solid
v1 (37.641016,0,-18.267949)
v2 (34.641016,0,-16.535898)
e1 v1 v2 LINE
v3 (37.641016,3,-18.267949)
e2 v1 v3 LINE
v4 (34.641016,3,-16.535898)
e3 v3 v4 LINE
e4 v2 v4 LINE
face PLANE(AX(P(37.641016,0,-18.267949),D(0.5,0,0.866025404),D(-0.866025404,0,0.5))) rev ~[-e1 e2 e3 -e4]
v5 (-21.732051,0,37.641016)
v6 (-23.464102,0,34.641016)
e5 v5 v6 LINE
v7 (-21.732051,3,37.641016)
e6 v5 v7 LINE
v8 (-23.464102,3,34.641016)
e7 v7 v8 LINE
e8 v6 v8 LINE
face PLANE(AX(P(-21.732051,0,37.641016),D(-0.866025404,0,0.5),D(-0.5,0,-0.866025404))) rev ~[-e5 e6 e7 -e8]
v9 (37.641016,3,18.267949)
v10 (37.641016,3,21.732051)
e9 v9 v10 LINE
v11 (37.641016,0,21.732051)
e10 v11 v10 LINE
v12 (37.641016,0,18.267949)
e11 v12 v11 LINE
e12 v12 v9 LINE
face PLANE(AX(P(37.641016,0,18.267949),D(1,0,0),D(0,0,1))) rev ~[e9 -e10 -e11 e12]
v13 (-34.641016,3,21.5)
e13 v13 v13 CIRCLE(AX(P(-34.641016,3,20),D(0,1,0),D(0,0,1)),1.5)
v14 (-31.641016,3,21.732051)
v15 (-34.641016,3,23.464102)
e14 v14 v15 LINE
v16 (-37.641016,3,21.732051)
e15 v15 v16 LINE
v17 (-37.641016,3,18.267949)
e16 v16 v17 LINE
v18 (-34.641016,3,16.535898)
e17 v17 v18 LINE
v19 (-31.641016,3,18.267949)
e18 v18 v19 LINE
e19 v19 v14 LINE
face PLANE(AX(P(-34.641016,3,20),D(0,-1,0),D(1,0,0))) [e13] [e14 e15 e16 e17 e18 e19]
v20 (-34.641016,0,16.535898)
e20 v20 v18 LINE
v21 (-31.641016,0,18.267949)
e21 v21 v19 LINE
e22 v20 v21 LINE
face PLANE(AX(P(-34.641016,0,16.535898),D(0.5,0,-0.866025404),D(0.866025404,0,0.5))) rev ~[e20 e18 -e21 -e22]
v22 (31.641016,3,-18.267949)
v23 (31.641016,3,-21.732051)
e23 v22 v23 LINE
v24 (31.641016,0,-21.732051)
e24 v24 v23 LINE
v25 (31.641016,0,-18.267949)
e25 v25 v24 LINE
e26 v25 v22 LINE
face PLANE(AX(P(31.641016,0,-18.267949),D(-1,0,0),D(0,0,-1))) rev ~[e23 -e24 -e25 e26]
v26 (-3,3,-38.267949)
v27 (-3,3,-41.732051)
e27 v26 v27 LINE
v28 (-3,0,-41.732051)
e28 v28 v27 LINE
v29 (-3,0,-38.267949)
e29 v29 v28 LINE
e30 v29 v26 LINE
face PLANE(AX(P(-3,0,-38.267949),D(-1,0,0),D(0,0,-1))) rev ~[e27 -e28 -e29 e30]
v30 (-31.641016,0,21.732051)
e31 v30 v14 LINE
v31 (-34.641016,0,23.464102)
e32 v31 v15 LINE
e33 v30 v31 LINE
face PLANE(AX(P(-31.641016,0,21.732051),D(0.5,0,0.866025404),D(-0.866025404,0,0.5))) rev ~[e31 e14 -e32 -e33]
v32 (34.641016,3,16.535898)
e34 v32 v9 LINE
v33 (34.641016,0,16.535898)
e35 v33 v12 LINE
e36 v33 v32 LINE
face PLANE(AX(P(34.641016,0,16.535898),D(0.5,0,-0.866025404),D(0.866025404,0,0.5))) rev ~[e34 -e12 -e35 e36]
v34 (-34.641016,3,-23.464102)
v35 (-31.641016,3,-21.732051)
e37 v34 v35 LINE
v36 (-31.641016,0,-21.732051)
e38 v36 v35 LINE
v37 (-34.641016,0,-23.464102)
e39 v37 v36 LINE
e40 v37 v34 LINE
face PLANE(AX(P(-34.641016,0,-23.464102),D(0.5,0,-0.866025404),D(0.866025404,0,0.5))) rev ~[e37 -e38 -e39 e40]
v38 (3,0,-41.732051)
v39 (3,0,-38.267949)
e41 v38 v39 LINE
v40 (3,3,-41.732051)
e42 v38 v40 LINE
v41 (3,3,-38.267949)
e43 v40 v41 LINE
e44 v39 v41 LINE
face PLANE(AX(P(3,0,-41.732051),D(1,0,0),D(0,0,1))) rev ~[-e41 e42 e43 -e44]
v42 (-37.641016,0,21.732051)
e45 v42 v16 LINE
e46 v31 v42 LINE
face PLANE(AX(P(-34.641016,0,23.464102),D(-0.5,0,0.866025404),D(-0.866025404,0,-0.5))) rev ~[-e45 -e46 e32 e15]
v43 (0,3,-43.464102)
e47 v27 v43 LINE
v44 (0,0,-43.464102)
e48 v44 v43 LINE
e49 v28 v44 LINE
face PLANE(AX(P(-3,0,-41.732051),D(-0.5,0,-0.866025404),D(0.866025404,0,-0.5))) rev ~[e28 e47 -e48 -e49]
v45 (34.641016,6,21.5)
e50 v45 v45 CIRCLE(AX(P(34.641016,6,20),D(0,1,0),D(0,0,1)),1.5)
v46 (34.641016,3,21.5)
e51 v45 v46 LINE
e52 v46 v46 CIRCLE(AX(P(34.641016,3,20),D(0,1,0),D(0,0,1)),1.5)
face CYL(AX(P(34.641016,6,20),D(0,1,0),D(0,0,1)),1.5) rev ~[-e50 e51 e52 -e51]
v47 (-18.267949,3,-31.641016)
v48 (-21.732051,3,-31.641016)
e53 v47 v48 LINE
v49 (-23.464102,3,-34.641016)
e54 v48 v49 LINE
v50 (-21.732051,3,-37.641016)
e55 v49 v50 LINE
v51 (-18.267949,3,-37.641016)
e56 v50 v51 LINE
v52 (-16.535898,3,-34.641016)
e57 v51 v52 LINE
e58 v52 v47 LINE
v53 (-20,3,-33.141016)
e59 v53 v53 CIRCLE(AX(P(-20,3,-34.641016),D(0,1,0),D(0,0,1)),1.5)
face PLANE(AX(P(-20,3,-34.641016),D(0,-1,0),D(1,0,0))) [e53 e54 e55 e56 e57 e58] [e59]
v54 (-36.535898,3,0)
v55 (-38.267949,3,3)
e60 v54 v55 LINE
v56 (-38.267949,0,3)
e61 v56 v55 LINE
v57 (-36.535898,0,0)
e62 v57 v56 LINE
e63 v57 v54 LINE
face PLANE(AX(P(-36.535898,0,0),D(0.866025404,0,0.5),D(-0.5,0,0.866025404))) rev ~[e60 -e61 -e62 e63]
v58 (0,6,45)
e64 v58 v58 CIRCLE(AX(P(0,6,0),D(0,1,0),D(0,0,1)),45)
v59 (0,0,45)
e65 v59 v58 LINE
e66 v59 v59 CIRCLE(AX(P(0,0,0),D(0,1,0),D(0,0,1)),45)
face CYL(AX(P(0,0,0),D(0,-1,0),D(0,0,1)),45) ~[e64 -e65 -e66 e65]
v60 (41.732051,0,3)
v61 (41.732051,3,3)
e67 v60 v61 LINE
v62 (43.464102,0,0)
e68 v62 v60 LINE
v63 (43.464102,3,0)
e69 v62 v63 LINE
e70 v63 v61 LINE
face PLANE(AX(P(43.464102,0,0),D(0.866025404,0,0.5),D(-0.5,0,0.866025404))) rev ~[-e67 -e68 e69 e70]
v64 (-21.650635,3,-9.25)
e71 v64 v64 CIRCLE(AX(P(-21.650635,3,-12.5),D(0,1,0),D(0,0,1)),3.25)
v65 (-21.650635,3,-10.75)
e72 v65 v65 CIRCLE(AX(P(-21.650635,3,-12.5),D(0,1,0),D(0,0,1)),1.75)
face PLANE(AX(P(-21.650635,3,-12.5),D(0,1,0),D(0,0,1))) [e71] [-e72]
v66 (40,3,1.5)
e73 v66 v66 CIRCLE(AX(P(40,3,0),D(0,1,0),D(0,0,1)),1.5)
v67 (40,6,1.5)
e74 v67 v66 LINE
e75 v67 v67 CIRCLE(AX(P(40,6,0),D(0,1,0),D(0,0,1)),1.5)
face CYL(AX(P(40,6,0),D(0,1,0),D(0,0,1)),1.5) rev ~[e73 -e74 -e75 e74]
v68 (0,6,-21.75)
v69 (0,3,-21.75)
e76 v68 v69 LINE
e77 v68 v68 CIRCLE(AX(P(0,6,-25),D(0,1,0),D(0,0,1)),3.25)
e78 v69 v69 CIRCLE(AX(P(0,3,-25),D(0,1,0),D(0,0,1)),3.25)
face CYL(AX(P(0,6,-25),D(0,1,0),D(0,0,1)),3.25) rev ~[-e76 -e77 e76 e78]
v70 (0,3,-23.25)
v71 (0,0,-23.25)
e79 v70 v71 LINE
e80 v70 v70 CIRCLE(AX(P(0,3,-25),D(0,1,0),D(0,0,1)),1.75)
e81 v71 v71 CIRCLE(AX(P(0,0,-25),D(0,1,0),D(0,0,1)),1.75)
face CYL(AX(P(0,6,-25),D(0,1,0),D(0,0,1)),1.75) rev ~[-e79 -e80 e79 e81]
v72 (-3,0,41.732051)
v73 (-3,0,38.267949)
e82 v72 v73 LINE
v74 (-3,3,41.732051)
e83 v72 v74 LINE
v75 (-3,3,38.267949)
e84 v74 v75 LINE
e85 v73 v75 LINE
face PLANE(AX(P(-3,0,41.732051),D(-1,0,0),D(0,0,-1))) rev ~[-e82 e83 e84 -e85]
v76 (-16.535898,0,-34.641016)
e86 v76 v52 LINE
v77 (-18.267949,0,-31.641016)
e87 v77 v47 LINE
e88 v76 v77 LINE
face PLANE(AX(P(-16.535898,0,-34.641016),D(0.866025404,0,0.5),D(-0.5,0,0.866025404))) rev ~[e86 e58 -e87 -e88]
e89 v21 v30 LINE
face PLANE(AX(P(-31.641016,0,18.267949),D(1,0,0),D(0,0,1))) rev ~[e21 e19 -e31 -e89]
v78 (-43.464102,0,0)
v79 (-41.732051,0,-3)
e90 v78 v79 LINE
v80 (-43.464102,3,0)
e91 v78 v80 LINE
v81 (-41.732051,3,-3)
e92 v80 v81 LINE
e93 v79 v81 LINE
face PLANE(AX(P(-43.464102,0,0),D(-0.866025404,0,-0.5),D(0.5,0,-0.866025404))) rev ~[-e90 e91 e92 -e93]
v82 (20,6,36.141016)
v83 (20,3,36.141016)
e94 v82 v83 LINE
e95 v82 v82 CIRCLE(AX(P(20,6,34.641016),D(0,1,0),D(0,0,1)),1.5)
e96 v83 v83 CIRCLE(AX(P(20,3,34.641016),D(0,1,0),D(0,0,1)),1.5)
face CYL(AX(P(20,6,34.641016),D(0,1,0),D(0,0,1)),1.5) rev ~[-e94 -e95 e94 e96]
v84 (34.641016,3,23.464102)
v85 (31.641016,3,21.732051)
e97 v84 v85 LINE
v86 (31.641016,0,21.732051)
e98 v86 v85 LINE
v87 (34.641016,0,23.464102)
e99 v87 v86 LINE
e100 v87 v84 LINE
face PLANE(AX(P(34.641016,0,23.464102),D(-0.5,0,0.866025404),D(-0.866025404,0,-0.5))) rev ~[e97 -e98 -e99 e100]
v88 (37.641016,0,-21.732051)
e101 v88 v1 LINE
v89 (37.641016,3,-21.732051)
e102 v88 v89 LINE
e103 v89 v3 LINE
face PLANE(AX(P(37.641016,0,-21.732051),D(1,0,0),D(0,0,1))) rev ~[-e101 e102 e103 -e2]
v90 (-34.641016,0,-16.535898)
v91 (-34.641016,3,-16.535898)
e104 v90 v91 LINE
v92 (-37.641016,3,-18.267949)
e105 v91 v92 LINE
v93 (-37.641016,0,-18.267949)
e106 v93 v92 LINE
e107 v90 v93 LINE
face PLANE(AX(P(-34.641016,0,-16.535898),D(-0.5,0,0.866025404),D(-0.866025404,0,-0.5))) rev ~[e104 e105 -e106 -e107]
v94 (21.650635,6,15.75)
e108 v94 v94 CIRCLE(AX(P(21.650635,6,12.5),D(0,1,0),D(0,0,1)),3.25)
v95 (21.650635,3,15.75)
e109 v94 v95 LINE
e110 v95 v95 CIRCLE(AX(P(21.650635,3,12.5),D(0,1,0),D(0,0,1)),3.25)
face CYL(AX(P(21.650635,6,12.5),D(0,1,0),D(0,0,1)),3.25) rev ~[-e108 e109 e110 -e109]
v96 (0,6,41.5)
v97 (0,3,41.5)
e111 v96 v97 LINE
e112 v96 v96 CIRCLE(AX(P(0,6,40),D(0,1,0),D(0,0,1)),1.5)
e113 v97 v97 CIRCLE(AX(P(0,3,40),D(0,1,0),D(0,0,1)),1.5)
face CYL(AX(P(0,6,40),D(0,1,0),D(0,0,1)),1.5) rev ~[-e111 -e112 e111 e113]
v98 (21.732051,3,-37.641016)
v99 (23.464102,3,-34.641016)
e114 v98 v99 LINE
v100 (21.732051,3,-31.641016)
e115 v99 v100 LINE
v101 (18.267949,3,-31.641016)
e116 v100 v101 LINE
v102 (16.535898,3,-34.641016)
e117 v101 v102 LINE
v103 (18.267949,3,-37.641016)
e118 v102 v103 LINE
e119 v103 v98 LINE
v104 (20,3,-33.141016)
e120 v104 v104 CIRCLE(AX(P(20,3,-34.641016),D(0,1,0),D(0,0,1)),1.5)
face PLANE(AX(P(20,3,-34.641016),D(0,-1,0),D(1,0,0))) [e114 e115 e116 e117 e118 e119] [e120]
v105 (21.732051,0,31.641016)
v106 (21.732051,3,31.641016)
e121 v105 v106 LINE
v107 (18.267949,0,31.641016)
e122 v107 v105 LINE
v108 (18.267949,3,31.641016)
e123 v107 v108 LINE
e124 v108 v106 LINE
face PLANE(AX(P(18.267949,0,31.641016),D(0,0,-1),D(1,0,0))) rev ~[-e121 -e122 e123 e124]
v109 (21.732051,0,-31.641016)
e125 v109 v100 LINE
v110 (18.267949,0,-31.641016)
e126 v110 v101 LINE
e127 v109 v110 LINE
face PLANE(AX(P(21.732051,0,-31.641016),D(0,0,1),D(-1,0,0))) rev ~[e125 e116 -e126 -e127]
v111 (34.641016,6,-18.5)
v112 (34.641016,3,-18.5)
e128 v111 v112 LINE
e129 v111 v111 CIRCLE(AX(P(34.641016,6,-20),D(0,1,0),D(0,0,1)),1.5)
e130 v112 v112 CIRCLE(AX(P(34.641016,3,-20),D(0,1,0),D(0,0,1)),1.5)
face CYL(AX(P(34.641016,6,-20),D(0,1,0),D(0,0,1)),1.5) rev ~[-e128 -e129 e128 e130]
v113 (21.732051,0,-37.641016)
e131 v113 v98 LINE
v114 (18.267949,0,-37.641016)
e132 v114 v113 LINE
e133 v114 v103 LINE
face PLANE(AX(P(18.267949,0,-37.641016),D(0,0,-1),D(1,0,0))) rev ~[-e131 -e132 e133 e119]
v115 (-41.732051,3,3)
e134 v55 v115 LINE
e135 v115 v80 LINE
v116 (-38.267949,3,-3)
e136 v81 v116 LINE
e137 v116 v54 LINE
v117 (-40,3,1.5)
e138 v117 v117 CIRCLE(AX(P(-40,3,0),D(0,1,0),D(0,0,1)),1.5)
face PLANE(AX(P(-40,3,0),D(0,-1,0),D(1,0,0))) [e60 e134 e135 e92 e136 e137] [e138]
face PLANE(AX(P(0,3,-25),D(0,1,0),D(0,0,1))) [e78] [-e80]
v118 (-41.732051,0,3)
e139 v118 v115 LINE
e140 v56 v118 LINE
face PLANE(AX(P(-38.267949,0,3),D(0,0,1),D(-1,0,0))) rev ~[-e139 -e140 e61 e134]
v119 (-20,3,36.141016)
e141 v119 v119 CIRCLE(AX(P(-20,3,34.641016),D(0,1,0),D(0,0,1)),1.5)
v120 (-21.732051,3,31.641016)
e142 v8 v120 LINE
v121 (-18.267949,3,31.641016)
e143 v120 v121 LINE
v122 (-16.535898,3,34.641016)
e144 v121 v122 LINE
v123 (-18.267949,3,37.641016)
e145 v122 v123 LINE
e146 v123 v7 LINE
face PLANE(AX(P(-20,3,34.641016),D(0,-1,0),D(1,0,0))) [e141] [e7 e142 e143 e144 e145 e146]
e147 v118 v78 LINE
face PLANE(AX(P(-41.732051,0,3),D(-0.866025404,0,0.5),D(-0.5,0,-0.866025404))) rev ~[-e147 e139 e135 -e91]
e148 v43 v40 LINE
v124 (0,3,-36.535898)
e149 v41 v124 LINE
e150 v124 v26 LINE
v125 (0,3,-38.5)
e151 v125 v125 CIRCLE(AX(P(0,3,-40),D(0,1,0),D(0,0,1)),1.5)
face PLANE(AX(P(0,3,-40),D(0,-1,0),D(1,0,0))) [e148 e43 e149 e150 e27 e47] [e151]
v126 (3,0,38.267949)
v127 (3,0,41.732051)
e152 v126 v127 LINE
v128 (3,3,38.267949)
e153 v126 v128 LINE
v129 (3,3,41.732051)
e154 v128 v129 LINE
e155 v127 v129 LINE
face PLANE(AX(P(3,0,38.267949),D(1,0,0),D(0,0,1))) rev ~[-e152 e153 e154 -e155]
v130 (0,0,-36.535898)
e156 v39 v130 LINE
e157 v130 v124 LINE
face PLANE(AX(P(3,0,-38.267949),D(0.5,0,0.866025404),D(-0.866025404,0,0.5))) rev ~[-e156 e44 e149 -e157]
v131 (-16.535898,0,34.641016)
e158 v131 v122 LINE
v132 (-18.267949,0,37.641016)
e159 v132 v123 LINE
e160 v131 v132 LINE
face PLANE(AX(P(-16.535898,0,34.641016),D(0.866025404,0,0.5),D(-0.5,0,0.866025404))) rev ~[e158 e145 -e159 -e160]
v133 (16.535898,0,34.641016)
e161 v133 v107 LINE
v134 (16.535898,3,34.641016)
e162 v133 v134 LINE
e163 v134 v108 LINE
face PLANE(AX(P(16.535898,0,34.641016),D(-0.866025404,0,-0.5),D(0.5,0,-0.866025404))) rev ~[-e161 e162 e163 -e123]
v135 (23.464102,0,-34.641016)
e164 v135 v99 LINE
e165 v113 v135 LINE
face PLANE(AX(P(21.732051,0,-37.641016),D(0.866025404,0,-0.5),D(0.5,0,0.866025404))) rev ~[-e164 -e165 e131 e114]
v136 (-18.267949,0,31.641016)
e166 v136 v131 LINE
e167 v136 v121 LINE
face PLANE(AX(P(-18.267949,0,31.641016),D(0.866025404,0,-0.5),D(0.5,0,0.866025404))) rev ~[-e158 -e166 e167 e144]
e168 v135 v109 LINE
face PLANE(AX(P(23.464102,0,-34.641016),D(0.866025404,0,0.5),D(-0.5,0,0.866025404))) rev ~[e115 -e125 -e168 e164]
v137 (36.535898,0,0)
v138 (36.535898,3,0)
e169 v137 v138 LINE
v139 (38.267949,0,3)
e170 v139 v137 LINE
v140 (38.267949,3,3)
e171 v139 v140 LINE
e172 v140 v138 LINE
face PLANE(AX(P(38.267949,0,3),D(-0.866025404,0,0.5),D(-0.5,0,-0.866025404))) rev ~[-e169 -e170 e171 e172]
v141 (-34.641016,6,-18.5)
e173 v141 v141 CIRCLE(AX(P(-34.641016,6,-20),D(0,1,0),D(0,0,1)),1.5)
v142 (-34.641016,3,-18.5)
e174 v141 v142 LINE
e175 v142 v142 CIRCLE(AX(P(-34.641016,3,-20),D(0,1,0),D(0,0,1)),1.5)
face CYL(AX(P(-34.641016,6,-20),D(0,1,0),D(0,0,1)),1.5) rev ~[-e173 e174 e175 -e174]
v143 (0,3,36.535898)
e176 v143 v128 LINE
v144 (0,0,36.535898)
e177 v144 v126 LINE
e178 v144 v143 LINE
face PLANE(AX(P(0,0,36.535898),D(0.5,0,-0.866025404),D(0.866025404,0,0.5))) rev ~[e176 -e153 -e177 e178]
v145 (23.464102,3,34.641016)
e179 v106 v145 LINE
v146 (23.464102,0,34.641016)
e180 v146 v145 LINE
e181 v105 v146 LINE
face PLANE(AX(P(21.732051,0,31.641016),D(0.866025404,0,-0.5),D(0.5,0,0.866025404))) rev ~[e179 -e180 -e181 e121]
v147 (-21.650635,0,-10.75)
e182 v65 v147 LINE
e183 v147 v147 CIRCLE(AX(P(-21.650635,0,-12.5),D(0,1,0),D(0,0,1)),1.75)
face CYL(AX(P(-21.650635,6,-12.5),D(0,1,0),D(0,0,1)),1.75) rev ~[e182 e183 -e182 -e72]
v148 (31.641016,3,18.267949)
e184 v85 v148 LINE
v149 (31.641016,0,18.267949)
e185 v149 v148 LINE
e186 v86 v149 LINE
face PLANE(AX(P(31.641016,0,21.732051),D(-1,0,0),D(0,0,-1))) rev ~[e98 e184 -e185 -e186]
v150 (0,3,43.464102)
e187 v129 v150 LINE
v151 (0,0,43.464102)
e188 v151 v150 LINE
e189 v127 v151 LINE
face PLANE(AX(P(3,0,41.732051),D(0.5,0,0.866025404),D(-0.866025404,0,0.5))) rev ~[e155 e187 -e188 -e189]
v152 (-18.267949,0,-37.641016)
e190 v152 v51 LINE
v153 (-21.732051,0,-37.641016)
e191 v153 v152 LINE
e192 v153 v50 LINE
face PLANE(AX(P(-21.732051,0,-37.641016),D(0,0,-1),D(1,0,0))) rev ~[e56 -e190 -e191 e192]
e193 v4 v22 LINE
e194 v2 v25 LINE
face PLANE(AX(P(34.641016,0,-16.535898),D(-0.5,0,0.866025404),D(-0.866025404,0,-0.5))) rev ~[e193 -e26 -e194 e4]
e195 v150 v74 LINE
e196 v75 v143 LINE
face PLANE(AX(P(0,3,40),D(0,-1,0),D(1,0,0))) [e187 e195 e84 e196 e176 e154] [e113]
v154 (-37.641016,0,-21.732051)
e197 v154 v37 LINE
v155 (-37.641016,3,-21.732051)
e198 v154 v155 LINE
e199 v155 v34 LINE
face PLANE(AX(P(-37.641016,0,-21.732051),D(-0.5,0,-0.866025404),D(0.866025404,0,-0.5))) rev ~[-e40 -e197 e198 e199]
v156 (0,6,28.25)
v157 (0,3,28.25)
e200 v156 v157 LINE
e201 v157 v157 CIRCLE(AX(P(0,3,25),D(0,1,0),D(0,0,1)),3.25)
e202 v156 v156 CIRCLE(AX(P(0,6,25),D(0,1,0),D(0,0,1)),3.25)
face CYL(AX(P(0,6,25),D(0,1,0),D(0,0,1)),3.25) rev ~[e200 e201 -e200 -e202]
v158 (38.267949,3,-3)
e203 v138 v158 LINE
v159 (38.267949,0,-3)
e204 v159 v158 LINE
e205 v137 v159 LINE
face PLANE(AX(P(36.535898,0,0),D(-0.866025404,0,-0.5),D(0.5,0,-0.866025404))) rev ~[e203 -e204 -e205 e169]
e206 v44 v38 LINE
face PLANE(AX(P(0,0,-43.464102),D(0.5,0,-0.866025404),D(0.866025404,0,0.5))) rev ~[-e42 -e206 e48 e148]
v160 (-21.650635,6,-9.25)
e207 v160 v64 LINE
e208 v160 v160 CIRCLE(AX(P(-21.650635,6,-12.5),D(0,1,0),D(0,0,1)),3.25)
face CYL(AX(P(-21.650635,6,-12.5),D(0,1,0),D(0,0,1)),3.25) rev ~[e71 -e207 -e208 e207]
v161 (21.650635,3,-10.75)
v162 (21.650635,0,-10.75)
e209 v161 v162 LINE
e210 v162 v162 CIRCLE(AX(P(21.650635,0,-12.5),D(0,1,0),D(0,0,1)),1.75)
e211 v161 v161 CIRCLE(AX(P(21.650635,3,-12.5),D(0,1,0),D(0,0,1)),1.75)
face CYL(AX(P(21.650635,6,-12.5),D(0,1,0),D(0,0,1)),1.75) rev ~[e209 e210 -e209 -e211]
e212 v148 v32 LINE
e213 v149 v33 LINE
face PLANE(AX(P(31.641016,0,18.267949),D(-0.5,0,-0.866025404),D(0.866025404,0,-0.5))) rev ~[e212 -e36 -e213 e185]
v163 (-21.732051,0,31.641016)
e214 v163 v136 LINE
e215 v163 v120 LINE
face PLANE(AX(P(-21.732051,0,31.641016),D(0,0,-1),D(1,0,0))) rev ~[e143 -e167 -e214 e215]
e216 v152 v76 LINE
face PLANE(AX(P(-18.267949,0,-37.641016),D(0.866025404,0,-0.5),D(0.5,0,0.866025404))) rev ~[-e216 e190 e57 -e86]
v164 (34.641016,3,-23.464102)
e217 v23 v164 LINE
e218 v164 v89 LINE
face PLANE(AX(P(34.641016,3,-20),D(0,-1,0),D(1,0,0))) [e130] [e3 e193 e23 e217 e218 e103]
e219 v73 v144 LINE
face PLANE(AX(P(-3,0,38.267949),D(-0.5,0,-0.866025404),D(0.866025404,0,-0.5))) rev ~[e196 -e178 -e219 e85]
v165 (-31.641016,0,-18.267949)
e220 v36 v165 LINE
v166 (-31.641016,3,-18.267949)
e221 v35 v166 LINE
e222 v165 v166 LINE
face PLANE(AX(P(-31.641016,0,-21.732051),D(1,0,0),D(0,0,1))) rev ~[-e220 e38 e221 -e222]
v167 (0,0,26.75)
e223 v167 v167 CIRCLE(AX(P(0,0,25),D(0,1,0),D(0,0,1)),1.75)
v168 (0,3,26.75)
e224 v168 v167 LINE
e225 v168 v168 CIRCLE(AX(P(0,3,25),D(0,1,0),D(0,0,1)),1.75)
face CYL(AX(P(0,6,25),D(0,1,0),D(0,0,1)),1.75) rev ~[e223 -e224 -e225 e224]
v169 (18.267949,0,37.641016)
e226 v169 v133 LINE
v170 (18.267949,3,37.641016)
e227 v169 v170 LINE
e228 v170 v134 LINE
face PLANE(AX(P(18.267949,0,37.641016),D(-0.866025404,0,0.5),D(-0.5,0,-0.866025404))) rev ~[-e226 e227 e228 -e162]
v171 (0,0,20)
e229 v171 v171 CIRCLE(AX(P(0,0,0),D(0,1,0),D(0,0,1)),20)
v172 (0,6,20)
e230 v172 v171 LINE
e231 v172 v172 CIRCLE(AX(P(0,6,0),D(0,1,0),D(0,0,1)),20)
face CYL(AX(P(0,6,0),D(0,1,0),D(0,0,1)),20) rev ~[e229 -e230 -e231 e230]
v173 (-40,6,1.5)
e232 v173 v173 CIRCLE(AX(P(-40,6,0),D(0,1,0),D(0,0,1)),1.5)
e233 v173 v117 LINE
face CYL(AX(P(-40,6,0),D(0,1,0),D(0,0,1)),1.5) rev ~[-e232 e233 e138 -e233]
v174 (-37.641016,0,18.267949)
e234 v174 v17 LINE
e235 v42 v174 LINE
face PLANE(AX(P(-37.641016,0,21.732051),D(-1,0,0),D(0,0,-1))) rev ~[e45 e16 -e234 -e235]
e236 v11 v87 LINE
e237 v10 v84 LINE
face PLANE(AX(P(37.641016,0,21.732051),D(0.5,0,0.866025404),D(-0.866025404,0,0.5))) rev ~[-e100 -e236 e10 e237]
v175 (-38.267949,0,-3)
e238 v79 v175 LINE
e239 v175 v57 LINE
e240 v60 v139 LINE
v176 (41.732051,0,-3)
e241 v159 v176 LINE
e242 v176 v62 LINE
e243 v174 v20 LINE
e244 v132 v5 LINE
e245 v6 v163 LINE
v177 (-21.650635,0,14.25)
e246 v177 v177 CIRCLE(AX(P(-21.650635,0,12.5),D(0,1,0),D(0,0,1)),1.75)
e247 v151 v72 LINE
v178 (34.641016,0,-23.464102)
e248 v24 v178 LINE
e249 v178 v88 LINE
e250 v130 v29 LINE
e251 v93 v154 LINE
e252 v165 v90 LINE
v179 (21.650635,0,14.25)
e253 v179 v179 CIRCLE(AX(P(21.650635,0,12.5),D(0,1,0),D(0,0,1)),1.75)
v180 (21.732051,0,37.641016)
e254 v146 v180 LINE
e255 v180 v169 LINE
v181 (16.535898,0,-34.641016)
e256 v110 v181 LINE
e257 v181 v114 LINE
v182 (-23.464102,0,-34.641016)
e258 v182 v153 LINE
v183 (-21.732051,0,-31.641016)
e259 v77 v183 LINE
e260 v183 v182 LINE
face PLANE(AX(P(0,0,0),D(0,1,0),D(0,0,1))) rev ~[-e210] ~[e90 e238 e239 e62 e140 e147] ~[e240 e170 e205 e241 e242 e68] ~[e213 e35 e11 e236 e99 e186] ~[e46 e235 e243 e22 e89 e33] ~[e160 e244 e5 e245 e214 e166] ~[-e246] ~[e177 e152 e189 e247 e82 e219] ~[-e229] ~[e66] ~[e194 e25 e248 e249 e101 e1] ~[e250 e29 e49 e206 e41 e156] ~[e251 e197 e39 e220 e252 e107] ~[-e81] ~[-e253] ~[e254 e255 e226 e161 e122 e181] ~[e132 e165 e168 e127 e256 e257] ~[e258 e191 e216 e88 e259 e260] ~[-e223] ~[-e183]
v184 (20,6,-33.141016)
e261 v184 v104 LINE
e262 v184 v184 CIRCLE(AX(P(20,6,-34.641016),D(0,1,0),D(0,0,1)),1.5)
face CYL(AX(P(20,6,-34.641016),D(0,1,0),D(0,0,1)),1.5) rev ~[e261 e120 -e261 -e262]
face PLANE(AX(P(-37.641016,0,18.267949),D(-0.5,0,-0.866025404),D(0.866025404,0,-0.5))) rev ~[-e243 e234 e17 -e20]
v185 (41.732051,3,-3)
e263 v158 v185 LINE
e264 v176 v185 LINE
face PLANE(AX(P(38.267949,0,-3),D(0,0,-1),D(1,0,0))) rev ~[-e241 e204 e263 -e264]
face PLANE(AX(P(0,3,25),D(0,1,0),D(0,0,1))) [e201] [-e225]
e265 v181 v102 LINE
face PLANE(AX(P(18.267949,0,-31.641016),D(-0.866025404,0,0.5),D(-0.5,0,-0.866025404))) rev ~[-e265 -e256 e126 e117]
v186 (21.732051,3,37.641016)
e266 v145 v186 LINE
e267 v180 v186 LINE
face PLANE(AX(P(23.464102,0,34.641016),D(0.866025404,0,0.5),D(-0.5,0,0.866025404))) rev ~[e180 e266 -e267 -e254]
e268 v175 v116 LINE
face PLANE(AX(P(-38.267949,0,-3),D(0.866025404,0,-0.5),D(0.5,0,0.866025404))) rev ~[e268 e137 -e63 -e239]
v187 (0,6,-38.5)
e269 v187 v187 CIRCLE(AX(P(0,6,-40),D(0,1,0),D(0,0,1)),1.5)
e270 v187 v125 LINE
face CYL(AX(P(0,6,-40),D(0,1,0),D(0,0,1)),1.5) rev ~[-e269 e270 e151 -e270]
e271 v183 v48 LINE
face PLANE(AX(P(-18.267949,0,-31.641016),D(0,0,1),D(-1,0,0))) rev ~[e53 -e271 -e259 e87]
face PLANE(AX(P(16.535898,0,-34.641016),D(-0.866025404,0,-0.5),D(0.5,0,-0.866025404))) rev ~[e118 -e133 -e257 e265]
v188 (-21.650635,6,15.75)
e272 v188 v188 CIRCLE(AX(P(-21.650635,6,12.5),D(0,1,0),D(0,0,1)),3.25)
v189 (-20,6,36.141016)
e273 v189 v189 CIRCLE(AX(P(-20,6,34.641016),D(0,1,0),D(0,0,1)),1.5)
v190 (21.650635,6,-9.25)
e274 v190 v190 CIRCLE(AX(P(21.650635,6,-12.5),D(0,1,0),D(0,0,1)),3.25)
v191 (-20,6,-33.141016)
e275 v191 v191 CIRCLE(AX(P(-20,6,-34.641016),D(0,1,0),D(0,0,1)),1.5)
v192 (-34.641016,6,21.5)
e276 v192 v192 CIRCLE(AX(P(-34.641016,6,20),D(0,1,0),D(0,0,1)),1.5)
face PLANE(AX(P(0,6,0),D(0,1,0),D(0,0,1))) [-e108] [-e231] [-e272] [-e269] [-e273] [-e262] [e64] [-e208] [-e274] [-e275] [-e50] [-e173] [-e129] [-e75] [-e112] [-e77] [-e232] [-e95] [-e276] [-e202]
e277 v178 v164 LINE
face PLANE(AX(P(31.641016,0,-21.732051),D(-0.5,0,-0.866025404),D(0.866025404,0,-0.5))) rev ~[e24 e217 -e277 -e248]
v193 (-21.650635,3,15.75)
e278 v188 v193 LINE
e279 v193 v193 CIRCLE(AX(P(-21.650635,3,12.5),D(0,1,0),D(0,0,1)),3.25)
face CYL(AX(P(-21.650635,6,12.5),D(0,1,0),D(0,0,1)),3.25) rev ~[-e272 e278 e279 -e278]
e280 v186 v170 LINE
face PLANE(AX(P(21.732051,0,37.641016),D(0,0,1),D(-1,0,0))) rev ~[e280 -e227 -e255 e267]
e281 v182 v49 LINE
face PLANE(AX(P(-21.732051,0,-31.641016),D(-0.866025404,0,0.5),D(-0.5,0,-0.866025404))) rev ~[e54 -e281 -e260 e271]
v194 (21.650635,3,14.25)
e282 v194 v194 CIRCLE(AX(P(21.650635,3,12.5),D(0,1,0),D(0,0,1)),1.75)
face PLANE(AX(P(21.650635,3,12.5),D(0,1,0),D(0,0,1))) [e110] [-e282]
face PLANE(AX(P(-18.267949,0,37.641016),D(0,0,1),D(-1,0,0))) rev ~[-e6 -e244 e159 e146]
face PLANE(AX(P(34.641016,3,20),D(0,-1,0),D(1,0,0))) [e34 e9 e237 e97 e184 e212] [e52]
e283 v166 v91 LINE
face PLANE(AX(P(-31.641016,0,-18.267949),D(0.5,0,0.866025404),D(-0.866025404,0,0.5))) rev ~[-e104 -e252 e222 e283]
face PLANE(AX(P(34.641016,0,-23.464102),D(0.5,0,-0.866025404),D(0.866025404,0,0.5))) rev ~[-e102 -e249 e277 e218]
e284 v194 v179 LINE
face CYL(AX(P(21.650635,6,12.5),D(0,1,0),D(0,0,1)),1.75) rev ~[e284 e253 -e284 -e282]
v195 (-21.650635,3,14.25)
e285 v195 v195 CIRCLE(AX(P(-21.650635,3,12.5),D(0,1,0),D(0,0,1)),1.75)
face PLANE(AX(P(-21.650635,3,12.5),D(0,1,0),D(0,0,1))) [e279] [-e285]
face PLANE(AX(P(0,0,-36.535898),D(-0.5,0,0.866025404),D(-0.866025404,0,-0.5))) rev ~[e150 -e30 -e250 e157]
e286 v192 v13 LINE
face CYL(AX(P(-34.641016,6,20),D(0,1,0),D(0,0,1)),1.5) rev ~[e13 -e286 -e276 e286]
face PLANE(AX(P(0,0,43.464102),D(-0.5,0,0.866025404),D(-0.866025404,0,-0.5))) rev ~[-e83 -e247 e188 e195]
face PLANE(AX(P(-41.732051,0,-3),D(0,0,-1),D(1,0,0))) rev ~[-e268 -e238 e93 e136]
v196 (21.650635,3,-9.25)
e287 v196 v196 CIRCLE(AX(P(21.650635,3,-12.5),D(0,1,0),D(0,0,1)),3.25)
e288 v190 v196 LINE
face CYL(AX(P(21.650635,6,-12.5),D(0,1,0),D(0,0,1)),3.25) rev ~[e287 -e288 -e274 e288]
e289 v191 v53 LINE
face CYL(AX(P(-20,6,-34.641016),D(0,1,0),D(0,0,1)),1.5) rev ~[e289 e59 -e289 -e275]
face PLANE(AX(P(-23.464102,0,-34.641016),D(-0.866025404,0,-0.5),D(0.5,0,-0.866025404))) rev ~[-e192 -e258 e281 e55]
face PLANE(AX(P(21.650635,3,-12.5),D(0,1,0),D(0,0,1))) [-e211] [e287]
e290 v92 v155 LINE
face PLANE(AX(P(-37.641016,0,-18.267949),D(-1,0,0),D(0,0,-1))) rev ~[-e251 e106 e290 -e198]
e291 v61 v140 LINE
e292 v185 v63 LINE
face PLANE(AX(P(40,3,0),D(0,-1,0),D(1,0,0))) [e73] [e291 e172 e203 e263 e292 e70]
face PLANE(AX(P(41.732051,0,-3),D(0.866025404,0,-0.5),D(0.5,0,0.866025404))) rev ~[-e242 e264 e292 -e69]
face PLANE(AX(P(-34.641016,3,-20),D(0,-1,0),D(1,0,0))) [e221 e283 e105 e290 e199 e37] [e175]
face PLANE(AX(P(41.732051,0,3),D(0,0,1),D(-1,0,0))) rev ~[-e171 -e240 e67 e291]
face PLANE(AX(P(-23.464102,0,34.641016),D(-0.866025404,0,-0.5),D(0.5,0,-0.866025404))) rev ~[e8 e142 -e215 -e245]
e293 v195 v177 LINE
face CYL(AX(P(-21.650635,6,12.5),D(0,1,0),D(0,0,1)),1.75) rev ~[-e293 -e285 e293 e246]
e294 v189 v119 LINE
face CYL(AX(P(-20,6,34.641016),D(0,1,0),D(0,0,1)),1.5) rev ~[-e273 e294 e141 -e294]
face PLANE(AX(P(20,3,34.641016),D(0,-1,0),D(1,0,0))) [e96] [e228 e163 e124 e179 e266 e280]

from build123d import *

# Parameters (mm, degrees)
SKETCH1_R           = 45
BOSS_EXTRUDE1_DEPTH = 6
SKETCH3_R           = 1.75
CUT_EXTRUDE1_DEPTH  = 64.921827258
SKETCH4_R           = 3.25
CUT_EXTRUDE2_DEPTH  = 3
SKETCH5_R           = 1.5
CUT_EXTRUDE3_DEPTH  = 64.921827258
CUT_EXTRUDE4_DEPTH  = 3
SKETCH9_R           = 20
CUT_EXTRUDE5_DEPTH  = 64.921827258


with BuildPart() as part:
    # Sketch1 → Boss-Extrude1 (new body)
    with BuildSketch(Plane(origin=(0, 0, 0), x_dir=(1, 0, 0), z_dir=(0, 1, 0))):
        with Locations(Location((0, 0, 0), (0, 0, 270))):
            Circle(SKETCH1_R)
    extrude(amount=BOSS_EXTRUDE1_DEPTH)

    # Sketch3 → Cut-Extrude1 (cut, through all)
    with BuildSketch(Plane(origin=(0, 6, 0), x_dir=(1, 0, 0), z_dir=(0, 1, 0))):
        with Locations(Location((0, -25, 0), (0, 0, 270))):
            Circle(SKETCH3_R)
        with Locations(Location((-21.650635095, -12.5, 0), (0, 0, 270))):
            Circle(SKETCH3_R)
        with Locations(Location((-21.650635095, 12.5, 0), (0, 0, 270))):
            Circle(SKETCH3_R)
        with Locations(Location((0, 25, 0), (0, 0, 270))):
            Circle(SKETCH3_R)
        with Locations(Location((21.650635095, 12.5, 0), (0, 0, 270))):
            Circle(SKETCH3_R)
        with Locations(Location((21.650635095, -12.5, 0), (0, 0, 270))):
            Circle(SKETCH3_R)
    extrude(amount=-CUT_EXTRUDE1_DEPTH, mode=Mode.SUBTRACT)

    # Sketch4 → Cut-Extrude2 (cut)
    with BuildSketch(Plane(origin=(0, 6, 0), x_dir=(1, 0, 0), z_dir=(0, 1, 0))):
        with Locations(Location((0, -25, 0), (0, 0, 270))):
            Circle(SKETCH4_R)
        with Locations(Location((-21.650635095, -12.5, 0), (0, 0, 270))):
            Circle(SKETCH4_R)
        with Locations(Location((-21.650635095, 12.5, 0), (0, 0, 270))):
            Circle(SKETCH4_R)
        with Locations(Location((0, 25, 0), (0, 0, 270))):
            Circle(SKETCH4_R)
        with Locations(Location((21.650635095, 12.5, 0), (0, 0, 270))):
            Circle(SKETCH4_R)
        with Locations(Location((21.650635095, -12.5, 0), (0, 0, 270))):
            Circle(SKETCH4_R)
    extrude(amount=-CUT_EXTRUDE2_DEPTH, mode=Mode.SUBTRACT)

    # Sketch5 → Cut-Extrude3 (cut, through all)
    with BuildSketch(Plane(origin=(0, 6, 0), x_dir=(1, 0, 0), z_dir=(0, 1, 0))):
        with Locations(Location((0, -40, 0), (0, 0, 270))):
            Circle(SKETCH5_R)
        with Locations(Location((-20, -34.641016151, 0), (0, 0, 270))):
            Circle(SKETCH5_R)
        with Locations(Location((-34.641016151, -20, 0), (0, 0, 270))):
            Circle(SKETCH5_R)
        with Locations(Location((-40, 0, 0), (0, 0, 270))):
            Circle(SKETCH5_R)
        with Locations(Location((-34.641016151, 20, 0), (0, 0, 270))):
            Circle(SKETCH5_R)
        with Locations(Location((-20, 34.641016151, 0), (0, 0, 270))):
            Circle(SKETCH5_R)
        with Locations(Location((0, 40, 0), (0, 0, 270))):
            Circle(SKETCH5_R)
        with Locations(Location((20, 34.641016151, 0), (0, 0, 270))):
            Circle(SKETCH5_R)
        with Locations(Location((34.641016151, 20, 0), (0, 0, 270))):
            Circle(SKETCH5_R)
        with Locations(Location((40, 0, 0), (0, 0, 270))):
            Circle(SKETCH5_R)
        with Locations(Location((34.641016151, -20, 0), (0, 0, 270))):
            Circle(SKETCH5_R)
        with Locations(Location((20, -34.641016151, 0), (0, 0, 270))):
            Circle(SKETCH5_R)
    extrude(amount=-CUT_EXTRUDE3_DEPTH, mode=Mode.SUBTRACT)

    # Sketch6 → Cut-Extrude4 (cut)
    with BuildSketch(Plane.XZ):
        Polygon((-18.267949192, -37.641016151), (-16.535898385, -34.641016151), (-18.267949192, -31.641016151), (-21.732050808, -31.641016151), (-23.464101615, -34.641016151), (-21.732050808, -37.641016151), align=None)
        Polygon((0, -36.535898385), (-3, -38.267949192), (-3, -41.732050808), (0, -43.464101615), (3, -41.732050808), (3, -38.267949192), align=None)
        Polygon((-34.641016151, -23.464101615), (-31.641016151, -21.732050808), (-31.641016151, -18.267949192), (-34.641016151, -16.535898385), (-37.641016151, -18.267949192), (-37.641016151, -21.732050808), align=None)
        Polygon((-41.732050808, -3), (-38.267949192, -3), (-36.535898385, 0), (-38.267949192, 3), (-41.732050808, 3), (-43.464101615, 0), align=None)
        Polygon((-37.641016151, 18.267949192), (-34.641016151, 16.535898385), (-31.641016151, 18.267949192), (-31.641016151, 21.732050808), (-34.641016151, 23.464101615), (-37.641016151, 21.732050808), align=None)
        Polygon((-23.464101615, 34.641016151), (-21.732050808, 31.641016151), (-18.267949192, 31.641016151), (-16.535898385, 34.641016151), (-18.267949192, 37.641016151), (-21.732050808, 37.641016151), align=None)
        Polygon((-3, 41.732050808), (-3, 38.267949192), (0, 36.535898385), (3, 38.267949192), (3, 41.732050808), (0, 43.464101615), align=None)
        Polygon((18.267949192, 37.641016151), (16.535898385, 34.641016151), (18.267949192, 31.641016151), (21.732050808, 31.641016151), (23.464101615, 34.641016151), (21.732050808, 37.641016151), align=None)
        Polygon((34.641016151, 23.464101615), (31.641016151, 21.732050808), (31.641016151, 18.267949192), (34.641016151, 16.535898385), (37.641016151, 18.267949192), (37.641016151, 21.732050808), align=None)
        Polygon((41.732050808, 3), (38.267949192, 3), (36.535898385, 0), (38.267949192, -3), (41.732050808, -3), (43.464101615, 0), align=None)
        Polygon((37.641016151, -18.267949192), (34.641016151, -16.535898385), (31.641016151, -18.267949192), (31.641016151, -21.732050808), (34.641016151, -23.464101615), (37.641016151, -21.732050808), align=None)
        Polygon((23.464101615, -34.641016151), (21.732050808, -31.641016151), (18.267949192, -31.641016151), (16.535898385, -34.641016151), (18.267949192, -37.641016151), (21.732050808, -37.641016151), align=None)
    extrude(amount=-CUT_EXTRUDE4_DEPTH, mode=Mode.SUBTRACT)

    # Sketch9 → Cut-Extrude5 (cut, through all)
    with BuildSketch(Plane(origin=(0, 6, 0), x_dir=(1, 0, 0), z_dir=(0, 1, 0))):
        with Locations(Location((0, 0, 0), (0, 0, 270))):
            Circle(SKETCH9_R)
    extrude(amount=-CUT_EXTRUDE5_DEPTH, mode=Mode.SUBTRACT)


solid = part.part
